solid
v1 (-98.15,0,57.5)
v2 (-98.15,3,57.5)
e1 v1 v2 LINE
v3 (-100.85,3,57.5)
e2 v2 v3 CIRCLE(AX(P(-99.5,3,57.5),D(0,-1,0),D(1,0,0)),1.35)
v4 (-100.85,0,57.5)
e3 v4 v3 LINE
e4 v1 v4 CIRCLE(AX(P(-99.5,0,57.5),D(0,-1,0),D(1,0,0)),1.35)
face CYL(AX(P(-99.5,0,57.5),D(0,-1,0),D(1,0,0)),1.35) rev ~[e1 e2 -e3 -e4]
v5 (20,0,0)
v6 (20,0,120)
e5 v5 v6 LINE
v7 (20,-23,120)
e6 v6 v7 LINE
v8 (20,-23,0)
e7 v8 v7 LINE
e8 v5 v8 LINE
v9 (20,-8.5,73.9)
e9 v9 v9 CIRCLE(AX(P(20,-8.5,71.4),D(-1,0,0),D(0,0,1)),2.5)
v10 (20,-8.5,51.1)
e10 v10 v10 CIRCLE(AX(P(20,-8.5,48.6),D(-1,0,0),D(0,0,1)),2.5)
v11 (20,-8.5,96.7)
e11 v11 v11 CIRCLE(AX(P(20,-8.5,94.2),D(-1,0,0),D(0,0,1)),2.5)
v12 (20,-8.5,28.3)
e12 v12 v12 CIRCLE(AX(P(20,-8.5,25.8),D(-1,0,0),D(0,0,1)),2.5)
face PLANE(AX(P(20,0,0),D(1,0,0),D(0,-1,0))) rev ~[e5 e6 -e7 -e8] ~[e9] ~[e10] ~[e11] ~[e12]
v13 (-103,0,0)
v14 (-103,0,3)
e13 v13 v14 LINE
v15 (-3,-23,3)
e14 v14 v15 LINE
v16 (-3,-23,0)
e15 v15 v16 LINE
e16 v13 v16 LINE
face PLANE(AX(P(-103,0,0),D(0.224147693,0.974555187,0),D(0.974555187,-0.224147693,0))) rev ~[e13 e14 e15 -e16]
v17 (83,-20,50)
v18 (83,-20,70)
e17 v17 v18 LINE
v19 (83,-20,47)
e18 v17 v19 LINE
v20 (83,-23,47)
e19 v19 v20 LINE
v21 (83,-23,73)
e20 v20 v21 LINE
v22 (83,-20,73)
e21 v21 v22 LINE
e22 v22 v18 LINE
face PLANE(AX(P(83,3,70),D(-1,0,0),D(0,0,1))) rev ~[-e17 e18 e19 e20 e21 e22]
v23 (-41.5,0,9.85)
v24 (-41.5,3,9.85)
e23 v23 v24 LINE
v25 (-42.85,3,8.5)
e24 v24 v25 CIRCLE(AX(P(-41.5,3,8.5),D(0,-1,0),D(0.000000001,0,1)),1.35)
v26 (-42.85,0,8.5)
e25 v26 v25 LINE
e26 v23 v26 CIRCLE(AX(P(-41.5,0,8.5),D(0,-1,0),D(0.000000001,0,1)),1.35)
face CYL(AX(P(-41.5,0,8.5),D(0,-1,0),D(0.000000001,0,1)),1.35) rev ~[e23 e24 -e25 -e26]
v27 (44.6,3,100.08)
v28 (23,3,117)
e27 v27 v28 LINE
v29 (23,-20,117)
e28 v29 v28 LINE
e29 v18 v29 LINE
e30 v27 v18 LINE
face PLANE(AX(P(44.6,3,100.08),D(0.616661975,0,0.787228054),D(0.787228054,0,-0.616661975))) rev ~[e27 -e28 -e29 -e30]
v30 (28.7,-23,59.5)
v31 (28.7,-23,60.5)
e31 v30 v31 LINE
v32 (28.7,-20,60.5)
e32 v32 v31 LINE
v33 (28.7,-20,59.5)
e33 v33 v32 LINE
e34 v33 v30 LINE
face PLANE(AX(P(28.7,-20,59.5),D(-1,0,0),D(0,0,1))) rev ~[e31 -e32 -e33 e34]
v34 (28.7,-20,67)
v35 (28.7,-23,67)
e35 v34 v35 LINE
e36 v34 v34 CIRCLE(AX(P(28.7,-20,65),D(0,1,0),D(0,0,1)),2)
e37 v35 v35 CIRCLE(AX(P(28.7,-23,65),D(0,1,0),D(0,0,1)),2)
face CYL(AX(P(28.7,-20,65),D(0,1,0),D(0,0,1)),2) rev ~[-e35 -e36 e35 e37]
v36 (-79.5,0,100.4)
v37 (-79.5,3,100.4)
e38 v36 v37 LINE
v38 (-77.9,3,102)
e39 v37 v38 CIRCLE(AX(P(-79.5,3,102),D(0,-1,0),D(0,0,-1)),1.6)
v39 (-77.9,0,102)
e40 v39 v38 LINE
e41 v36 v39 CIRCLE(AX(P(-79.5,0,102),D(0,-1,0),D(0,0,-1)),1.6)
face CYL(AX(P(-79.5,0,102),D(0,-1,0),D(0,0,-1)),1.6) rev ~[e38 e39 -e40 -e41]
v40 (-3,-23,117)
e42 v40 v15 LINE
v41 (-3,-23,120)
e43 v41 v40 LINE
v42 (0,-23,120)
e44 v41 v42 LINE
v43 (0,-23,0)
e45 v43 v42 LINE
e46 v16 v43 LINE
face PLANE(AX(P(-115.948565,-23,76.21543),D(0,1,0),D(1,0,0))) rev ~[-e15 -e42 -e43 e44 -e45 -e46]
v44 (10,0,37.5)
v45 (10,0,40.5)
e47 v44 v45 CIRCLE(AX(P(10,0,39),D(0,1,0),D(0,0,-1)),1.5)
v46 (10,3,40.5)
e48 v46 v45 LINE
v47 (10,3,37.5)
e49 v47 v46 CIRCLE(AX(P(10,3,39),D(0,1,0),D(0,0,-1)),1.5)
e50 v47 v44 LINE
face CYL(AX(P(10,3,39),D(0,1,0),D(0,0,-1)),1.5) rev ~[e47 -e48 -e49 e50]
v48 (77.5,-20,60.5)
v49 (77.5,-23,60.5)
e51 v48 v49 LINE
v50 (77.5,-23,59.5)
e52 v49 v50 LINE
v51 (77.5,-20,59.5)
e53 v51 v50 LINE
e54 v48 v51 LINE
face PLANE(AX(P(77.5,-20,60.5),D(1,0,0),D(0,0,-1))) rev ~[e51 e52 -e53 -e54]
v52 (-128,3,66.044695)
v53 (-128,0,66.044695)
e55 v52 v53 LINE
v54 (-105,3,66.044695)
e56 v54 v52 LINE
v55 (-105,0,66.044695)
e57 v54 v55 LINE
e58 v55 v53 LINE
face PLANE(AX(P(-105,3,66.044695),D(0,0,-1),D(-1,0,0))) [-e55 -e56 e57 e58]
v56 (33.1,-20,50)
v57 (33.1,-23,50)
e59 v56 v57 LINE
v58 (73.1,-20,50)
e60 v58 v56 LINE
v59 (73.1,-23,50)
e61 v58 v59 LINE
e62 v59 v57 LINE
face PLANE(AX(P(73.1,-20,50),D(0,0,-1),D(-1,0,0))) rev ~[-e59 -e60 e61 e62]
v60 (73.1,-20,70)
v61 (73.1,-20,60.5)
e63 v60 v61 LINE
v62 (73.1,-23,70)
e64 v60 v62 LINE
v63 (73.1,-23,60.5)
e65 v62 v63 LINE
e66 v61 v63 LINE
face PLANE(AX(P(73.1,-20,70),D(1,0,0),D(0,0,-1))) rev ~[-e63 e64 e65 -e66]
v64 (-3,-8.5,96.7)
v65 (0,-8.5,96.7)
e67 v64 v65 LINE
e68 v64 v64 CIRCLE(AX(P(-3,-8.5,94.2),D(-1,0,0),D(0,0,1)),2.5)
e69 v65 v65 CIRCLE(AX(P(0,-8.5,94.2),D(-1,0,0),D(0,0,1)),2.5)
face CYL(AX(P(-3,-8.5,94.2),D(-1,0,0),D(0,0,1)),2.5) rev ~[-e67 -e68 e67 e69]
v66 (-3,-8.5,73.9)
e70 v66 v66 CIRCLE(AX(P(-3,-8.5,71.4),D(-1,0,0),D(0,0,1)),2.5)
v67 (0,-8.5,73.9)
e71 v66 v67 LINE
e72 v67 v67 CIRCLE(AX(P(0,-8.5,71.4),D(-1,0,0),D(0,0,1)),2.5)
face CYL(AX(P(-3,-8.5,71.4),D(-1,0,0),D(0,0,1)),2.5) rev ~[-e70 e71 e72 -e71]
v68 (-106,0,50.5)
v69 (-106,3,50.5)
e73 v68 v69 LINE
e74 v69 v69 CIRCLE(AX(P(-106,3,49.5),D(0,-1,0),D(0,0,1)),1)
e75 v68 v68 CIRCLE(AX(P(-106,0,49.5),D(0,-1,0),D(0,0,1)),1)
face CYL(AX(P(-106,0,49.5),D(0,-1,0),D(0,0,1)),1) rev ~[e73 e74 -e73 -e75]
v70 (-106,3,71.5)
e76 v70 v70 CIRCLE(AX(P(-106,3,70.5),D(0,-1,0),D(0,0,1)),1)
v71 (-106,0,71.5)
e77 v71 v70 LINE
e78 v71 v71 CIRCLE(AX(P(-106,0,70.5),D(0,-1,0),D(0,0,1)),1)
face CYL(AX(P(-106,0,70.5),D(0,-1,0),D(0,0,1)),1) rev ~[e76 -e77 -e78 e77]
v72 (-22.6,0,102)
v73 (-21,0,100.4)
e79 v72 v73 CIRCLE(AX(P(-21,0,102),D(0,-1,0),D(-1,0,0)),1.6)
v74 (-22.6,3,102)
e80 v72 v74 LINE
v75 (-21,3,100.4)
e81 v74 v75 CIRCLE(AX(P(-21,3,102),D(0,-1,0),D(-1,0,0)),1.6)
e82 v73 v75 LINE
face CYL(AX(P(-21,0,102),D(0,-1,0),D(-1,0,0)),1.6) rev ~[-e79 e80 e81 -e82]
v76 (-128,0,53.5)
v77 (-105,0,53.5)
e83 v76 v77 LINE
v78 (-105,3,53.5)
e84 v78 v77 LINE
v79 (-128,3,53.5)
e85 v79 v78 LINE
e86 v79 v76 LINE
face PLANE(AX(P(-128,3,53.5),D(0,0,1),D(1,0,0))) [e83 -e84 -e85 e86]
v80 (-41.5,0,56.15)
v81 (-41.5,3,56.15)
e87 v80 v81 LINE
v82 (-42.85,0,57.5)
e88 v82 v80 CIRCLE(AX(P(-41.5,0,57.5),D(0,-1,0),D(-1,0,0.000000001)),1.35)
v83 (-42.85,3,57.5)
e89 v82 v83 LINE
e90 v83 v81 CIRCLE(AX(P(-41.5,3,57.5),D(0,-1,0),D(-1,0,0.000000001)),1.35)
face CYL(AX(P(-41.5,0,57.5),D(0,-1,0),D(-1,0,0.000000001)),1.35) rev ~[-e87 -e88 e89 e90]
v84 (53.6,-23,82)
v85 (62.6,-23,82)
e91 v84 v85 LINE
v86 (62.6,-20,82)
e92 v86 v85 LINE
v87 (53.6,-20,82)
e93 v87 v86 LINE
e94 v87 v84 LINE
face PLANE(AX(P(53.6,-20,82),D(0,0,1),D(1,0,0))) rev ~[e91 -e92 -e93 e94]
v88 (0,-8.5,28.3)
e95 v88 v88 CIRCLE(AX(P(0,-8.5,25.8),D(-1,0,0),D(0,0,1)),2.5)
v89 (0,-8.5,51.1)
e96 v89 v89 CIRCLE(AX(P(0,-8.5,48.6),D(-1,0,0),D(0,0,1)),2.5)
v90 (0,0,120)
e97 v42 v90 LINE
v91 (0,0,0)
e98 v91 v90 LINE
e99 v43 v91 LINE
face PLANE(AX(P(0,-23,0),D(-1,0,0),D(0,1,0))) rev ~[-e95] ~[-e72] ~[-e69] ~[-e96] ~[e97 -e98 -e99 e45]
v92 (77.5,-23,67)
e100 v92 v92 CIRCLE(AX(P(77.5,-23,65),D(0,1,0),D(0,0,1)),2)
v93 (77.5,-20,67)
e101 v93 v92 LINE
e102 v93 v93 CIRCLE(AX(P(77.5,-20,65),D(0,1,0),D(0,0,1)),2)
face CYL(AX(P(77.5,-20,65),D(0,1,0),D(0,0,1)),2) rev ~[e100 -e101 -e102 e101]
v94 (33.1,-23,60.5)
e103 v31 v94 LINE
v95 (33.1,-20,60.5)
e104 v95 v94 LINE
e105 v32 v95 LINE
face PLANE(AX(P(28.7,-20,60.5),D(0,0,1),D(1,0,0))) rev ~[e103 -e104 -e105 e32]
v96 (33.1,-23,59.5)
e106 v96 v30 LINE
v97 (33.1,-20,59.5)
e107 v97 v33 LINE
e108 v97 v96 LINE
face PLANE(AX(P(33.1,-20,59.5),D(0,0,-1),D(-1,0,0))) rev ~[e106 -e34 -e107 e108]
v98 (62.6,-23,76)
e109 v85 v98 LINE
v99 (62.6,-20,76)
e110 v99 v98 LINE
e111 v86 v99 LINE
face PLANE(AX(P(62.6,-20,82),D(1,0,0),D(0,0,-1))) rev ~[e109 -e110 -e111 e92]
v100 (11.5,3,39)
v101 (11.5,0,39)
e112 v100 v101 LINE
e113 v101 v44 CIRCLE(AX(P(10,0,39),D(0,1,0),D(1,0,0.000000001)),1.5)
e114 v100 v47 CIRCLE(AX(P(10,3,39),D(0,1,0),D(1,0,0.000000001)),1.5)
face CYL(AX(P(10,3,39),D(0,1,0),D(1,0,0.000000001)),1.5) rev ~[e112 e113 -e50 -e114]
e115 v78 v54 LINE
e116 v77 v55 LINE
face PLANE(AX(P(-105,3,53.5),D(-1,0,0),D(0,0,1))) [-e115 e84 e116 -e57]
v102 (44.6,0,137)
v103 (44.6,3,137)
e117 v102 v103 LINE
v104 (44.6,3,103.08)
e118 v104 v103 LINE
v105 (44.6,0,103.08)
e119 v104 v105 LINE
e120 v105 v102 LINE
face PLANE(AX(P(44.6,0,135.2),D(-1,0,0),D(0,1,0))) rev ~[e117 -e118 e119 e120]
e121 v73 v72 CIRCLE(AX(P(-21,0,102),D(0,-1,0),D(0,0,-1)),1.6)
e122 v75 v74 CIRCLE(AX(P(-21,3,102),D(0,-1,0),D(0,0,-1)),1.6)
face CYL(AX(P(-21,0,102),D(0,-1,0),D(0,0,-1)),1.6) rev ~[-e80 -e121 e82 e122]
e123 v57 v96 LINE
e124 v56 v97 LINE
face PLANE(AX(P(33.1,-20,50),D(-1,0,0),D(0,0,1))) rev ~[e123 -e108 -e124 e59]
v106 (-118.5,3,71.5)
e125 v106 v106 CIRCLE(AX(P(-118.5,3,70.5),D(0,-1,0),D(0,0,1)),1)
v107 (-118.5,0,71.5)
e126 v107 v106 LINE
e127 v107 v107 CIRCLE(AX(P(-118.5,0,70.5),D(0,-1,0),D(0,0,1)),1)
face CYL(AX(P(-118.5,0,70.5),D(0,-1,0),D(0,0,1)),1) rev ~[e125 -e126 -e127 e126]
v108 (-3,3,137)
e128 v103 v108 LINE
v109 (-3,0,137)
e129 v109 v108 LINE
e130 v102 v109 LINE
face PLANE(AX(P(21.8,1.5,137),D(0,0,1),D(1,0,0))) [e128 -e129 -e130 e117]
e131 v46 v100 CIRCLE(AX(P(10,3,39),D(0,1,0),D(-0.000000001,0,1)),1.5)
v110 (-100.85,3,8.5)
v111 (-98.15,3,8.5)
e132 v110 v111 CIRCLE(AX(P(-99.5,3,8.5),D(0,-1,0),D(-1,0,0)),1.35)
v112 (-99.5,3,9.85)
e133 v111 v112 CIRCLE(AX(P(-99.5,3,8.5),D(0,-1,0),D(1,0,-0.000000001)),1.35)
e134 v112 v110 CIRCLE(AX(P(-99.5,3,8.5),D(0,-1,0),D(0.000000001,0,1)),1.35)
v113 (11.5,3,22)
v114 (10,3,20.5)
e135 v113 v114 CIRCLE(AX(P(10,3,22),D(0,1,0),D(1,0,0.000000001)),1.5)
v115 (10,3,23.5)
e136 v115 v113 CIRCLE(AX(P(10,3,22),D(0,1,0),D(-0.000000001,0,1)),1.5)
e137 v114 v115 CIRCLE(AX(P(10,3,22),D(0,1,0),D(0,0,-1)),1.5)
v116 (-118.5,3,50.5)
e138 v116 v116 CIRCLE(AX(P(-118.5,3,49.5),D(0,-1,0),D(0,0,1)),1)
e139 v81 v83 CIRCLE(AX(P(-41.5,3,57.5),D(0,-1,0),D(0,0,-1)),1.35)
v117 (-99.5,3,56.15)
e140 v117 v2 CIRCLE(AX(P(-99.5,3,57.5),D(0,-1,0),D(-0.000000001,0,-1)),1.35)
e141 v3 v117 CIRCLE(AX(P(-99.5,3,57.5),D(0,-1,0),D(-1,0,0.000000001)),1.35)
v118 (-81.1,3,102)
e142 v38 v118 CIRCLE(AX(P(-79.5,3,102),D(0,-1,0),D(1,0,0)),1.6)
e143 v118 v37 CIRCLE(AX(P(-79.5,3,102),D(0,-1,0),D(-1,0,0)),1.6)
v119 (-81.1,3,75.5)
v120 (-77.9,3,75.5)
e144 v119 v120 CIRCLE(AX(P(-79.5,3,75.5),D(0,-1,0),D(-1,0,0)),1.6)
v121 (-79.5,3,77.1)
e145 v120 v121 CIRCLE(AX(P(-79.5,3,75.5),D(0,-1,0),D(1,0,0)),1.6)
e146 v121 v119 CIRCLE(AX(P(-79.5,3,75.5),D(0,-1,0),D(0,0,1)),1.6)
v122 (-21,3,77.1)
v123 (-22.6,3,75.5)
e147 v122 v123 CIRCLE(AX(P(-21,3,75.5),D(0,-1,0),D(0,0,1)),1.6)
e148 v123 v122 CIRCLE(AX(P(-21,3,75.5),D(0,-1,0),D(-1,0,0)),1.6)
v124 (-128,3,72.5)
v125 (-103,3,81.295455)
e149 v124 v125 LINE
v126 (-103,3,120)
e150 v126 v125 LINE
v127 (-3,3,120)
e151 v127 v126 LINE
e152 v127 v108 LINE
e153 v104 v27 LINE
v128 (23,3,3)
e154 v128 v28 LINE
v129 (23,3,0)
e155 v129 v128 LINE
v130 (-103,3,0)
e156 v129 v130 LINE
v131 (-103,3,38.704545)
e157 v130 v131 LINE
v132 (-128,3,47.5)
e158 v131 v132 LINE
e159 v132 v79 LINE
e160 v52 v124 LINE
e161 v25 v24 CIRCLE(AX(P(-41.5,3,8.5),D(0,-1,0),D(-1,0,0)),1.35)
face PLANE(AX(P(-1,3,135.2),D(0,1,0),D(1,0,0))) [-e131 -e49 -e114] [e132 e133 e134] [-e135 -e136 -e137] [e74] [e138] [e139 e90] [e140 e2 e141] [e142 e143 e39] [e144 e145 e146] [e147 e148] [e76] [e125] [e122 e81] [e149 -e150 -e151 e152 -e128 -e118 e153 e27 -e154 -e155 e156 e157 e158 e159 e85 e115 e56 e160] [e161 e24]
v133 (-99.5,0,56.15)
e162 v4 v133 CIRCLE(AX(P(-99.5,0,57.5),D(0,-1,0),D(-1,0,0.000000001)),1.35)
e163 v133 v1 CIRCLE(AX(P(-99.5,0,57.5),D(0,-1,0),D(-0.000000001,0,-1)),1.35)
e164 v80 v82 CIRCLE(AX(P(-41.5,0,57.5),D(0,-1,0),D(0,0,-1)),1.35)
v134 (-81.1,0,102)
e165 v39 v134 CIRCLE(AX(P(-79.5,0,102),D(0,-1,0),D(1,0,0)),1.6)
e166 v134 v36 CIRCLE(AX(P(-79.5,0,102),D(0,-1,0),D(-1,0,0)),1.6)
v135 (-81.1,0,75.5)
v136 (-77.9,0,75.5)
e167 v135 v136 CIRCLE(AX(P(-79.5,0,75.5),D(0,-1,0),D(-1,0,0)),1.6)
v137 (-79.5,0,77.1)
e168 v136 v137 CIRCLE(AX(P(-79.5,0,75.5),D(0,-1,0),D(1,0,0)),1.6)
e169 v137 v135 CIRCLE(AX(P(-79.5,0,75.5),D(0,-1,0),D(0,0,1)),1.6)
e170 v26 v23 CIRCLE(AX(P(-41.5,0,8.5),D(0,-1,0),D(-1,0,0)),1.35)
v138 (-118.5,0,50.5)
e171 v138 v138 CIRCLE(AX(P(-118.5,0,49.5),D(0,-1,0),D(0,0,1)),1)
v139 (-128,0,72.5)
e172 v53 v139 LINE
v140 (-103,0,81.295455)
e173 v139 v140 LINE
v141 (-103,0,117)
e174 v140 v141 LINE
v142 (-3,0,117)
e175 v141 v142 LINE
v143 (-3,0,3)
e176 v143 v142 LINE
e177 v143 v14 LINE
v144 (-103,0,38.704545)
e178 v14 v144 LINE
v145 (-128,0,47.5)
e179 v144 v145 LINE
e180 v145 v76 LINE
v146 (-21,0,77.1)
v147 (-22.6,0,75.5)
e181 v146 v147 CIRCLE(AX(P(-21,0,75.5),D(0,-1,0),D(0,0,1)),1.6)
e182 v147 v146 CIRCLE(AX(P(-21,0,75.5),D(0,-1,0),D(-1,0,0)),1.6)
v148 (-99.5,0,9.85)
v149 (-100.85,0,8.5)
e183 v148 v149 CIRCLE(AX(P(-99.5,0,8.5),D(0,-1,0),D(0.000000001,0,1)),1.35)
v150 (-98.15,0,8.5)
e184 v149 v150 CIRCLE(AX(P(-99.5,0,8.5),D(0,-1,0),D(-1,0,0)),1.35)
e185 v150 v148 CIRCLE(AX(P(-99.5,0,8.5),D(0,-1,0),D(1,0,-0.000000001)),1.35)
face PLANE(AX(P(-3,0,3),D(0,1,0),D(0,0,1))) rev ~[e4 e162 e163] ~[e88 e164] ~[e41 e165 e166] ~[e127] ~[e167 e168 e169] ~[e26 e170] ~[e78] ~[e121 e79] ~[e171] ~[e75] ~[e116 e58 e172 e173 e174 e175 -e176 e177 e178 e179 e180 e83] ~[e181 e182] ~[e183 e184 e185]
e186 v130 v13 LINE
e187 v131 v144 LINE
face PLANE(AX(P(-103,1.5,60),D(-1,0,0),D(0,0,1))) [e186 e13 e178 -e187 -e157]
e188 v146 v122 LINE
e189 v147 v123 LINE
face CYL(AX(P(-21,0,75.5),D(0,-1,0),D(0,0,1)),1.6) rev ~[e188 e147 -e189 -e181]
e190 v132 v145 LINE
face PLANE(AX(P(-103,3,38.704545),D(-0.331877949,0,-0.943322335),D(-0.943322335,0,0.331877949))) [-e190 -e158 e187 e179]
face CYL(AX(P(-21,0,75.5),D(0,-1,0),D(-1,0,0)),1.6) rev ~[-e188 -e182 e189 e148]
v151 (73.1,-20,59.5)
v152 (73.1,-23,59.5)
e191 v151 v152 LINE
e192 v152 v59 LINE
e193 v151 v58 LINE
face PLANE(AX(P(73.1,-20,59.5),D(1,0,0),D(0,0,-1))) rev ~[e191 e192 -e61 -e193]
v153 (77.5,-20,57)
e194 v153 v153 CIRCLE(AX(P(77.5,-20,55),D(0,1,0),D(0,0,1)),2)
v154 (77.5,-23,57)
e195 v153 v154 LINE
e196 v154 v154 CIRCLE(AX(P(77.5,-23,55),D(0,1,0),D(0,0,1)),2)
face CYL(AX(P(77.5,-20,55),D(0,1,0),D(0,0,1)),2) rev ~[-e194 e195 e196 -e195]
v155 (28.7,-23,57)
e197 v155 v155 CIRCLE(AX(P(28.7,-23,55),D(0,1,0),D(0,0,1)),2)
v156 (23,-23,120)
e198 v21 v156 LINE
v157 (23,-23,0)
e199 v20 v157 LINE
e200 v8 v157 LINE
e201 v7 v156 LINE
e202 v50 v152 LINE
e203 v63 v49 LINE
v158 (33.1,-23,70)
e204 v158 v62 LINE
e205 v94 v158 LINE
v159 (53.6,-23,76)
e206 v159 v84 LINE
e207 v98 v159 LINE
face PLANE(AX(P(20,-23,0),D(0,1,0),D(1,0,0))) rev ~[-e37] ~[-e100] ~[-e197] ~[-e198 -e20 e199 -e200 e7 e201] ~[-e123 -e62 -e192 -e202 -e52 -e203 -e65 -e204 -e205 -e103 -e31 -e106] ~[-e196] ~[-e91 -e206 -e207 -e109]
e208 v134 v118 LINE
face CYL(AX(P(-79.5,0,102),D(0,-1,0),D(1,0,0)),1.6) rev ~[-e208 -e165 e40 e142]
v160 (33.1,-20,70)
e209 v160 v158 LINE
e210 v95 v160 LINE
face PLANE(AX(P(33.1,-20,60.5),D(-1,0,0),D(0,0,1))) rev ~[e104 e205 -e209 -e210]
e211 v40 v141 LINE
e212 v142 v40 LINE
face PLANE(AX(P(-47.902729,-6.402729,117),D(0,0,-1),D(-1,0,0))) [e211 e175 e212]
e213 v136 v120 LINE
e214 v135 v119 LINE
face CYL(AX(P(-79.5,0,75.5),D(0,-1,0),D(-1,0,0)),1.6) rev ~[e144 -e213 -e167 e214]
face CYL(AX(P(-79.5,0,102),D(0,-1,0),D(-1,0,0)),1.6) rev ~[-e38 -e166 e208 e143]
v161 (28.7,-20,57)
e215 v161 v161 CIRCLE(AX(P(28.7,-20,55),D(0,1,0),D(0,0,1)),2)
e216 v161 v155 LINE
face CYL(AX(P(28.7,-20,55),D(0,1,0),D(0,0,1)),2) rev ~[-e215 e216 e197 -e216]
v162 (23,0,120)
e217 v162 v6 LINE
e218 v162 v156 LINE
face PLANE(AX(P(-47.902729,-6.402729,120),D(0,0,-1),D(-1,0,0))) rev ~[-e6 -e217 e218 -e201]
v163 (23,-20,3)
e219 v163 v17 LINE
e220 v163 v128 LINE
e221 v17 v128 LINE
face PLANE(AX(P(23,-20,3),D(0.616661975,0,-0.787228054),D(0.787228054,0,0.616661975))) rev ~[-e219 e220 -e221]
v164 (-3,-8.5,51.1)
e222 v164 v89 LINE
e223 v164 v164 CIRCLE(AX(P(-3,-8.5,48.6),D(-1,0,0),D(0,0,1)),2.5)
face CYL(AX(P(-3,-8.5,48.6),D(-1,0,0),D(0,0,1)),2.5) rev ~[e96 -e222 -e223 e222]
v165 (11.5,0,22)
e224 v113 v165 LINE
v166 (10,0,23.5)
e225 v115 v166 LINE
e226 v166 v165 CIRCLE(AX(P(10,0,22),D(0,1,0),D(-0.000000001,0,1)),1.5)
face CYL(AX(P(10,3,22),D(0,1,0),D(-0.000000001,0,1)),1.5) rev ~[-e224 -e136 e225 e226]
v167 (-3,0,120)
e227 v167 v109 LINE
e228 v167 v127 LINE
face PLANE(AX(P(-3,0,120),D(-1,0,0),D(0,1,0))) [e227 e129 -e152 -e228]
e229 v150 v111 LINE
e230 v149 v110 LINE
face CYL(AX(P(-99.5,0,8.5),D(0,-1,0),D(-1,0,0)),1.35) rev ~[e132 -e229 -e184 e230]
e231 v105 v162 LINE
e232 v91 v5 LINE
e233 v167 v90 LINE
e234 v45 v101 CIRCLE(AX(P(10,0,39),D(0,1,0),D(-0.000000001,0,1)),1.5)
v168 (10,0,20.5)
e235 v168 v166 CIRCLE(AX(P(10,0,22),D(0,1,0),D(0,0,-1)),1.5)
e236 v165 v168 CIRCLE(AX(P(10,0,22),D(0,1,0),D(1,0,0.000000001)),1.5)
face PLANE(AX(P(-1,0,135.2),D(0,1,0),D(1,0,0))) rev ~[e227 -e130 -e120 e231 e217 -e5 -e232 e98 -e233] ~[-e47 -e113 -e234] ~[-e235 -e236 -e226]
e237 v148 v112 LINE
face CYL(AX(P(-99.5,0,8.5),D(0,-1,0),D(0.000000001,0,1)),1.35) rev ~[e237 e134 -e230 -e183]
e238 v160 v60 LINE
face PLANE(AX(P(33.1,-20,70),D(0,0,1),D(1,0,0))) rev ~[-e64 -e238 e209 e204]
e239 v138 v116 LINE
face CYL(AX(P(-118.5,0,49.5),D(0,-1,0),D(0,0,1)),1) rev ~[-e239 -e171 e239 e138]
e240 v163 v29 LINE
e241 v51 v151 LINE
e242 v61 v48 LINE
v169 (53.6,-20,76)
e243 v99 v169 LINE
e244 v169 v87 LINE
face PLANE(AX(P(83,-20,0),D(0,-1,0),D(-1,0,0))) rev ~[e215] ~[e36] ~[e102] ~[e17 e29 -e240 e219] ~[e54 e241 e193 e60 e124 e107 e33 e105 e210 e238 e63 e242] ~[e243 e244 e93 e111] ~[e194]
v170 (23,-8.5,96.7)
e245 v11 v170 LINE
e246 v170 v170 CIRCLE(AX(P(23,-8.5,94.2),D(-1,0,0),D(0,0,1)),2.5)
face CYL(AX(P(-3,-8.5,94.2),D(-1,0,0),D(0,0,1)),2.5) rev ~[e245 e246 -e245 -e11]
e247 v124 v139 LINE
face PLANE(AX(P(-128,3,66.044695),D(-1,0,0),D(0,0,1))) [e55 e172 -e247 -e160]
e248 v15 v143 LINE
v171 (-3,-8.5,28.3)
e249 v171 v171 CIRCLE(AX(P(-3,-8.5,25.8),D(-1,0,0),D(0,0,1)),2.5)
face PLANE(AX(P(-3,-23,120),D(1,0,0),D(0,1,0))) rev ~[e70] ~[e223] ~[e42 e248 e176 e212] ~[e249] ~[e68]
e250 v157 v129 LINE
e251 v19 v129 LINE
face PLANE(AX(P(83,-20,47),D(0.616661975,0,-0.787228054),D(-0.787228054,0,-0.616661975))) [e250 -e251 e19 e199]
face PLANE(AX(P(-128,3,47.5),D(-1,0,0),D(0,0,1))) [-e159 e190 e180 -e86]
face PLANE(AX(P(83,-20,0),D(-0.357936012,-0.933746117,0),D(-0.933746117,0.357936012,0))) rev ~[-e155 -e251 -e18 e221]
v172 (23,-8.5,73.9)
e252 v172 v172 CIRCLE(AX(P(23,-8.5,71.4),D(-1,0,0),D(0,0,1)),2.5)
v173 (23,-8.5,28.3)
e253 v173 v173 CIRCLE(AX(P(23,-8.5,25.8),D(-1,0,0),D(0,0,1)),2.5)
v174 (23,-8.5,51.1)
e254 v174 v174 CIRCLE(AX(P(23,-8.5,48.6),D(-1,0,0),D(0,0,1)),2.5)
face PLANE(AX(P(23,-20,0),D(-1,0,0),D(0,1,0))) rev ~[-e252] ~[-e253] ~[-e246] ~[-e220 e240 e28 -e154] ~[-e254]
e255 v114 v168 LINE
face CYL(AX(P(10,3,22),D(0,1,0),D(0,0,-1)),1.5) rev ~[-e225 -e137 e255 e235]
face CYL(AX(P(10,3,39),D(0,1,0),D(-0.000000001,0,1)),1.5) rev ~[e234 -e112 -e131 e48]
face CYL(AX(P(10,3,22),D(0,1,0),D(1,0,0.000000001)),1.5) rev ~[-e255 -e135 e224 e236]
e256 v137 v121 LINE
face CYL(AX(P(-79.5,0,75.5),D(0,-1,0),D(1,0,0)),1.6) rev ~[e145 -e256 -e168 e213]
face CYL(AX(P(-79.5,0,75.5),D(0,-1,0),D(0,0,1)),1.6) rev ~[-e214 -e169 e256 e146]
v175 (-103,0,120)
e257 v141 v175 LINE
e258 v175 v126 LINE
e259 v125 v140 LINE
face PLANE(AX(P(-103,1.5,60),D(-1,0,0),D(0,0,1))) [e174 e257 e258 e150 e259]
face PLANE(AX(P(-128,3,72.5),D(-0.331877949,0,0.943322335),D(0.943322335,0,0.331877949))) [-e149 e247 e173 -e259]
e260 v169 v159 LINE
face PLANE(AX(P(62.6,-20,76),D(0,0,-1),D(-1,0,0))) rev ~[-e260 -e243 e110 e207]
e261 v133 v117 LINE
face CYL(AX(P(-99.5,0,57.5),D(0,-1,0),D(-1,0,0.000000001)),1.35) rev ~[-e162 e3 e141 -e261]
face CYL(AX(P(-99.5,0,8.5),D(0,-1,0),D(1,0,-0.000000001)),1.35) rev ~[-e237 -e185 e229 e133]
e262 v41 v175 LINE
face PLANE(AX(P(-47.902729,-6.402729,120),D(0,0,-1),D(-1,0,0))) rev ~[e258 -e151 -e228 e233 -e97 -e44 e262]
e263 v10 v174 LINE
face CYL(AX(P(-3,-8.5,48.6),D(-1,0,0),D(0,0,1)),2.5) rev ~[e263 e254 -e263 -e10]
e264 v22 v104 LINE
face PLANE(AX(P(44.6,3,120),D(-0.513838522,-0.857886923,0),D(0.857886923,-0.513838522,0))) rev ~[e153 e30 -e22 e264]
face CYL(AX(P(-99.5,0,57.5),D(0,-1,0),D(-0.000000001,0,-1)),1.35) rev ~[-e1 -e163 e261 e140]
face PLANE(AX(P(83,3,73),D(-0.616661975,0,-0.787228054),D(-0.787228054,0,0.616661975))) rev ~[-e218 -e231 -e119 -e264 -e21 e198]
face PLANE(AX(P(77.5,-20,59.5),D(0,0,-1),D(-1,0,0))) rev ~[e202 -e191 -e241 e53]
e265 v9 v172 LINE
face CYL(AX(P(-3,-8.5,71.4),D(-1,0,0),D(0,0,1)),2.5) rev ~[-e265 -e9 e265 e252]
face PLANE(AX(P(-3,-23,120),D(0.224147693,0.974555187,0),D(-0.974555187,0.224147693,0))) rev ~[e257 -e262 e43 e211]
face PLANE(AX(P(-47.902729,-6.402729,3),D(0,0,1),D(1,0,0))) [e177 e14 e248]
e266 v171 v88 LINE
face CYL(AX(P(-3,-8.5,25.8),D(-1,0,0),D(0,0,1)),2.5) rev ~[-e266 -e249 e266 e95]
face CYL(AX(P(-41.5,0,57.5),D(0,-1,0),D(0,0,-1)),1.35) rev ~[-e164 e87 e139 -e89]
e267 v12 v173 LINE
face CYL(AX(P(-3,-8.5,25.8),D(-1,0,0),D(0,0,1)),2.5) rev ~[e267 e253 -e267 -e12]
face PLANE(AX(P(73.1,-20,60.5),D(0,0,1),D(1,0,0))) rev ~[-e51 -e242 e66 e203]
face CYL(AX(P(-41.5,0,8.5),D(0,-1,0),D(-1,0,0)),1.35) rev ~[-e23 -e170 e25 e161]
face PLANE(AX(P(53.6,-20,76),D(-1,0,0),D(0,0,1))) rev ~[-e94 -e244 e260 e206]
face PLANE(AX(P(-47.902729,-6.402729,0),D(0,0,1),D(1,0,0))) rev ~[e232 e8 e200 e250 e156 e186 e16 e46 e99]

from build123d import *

# Parameters (mm, degrees)
BOSS_EXTRUDE1_DEPTH     = 120
SKETCH2_W               = 13
SKETCH2_H               = 10.628318584
BOSS_EXTRUDE2_DEPTH     = 3
BOSS_EXTRUDE3_DEPTH     = 3
SKETCH5_R               = 1.35
CUT_EXTRUDE1_DEPTH      = 10
SKETCH6_R               = 1
BOSS_EXTRUDE4_DEPTH     = 3
SKETCH7_W               = 2
SKETCH7_H               = 12.544695334
BOSS_EXTRUDE5_DEPTH     = 3
SKETCH8_R               = 1.6
CUT_EXTRUDE2_DEPTH      = 22
SKETCH9_R               = 2.5
CUT_EXTRUDE3_DEPTH      = 100
SKETCH10_R              = 2
CUT_EXTRUDE5_DEPTH      = 100
BOSS_EXTRUDE8_DEPTH     = 3
BOSS_EXTRUDE9_DEPTH     = 3
BOSS_EXTRUDE10_DEPTH    = 34
CUT_EXTRUDE6_DEPTH      = 145
CUT_EXTRUDE8_DEPTH      = 145
CUT_EXTRUDE8_DEPTH_BACK = 145
BOSS_EXTRUDE11_DEPTH    = 3
BOSS_EXTRUDE12_DEPTH    = 3
SKETCH21_W              = 4.5
SKETCH21_H              = 3
CUT_EXTRUDE9_DEPTH      = 10
CUT_EXTRUDE10_DEPTH     = 10
SKETCH26_W              = 114
SKETCH26_H              = 3
BOSS_EXTRUDE13_DEPTH    = 100
BOSS_EXTRUDE14_DEPTH    = 3
CUT_EXTRUDE11_DEPTH     = 3
SKETCH30_R              = 1
CUT_EXTRUDE12_DEPTH     = 3
CUT_EXTRUDE13_DEPTH     = 120
BOSS_EXTRUDE15_DEPTH    = 3
BOSS_EXTRUDE16_DEPTH    = 3
BOSS_EXTRUDE17_DEPTH    = 3
BOSS_EXTRUDE18_DEPTH    = 3
CUT_EXTRUDE14_DEPTH     = 120
BOSS_EXTRUDE19_DEPTH    = 10
BOSS_EXTRUDE20_DEPTH    = 23
CUT_EXTRUDE15_DEPTH     = 69
BOSS_EXTRUDE21_DEPTH    = 3
SKETCH43_W              = 2
SKETCH43_H              = 3
BOSS_EXTRUDE22_DEPTH    = 17
SKETCH44_W              = 45.6
SKETCH44_H              = 3
BOSS_EXTRUDE23_DEPTH    = 1.8


with BuildPart() as part:
    # Sketch1 → Boss-Extrude1 (new body)
    with BuildSketch(Plane.XY):
        Polygon((0, 0), (20, 0), (20, -23), (83, -23), (83, -20), (23, -20), (23, 3), (-3, 3), (-3, -20), (-103, -20), (-103, -23), (0, -23), align=None)
    extrude(amount=BOSS_EXTRUDE1_DEPTH)

    # Sketch2 → Boss-Extrude2 (add)
    with BuildSketch(Plane(origin=(0, 0, 0), x_dir=(-1, 0, 0), z_dir=(0, 0, -1))):
        with Locations((-3.5, 8.314159292)):
            Rectangle(SKETCH2_W, SKETCH2_H)
        Polygon((-23, 3), (-10, 3), (-10, 13.628318584), (-18.398230088, 13.628318584), (-83, -20), (-23, -20), align=None)
        Polygon((3, 13.628318584), (3, 3), (3, -20), (103, -20), align=None)
    extrude(amount=-BOSS_EXTRUDE2_DEPTH)

    # Sketch4 → Boss-Extrude3 (add)
    with BuildSketch(Plane.XY.offset(120)):
        Polygon((83, -20), (23, -20), (23, 3), (-3, 3), (-3, -20), (-103, -20), (-3, 13.628318584), (18.398230088, 13.628318584), align=None)
    extrude(amount=-BOSS_EXTRUDE3_DEPTH)

    # Sketch5 → Cut-Extrude1 (cut)
    with BuildSketch(Plane(origin=(0, -20, 0), x_dir=(1, 0, 0), z_dir=(0, 1, 0))):
        with Locations(Location((-99.5, -57.5, 0), (0, 0, 270))):
            Circle(SKETCH5_R)
        with Locations(Location((-99.5, -8.5, 0), (0, 0, 270))):
            Circle(SKETCH5_R)
        with Locations(Location((-41.5, -8.5, 0), (0, 0, 270))):
            Circle(SKETCH5_R)
        with Locations(Location((-41.5, -57.5, 0), (0, 0, 270))):
            Circle(SKETCH5_R)
    extrude(amount=-CUT_EXTRUDE1_DEPTH, mode=Mode.SUBTRACT)

    # Sketch6 → Boss-Extrude4 (add)
    with BuildSketch(Plane(origin=(0, -20, 0), x_dir=(1, 0, 0), z_dir=(0, 1, 0))):
        Polygon((-103, -53.5), (-103, -38.704545455), (-128, -49.5), (-128, -53.5), align=None)
        with Locations(Location((-118.5, -49.5, 0), (0, 0, 270))):
            Circle(SKETCH6_R, mode=Mode.SUBTRACT)
        with Locations(Location((-106, -49.5, 0), (0, 0, 270))):
            Circle(SKETCH6_R, mode=Mode.SUBTRACT)
        Polygon((-103, -66.044695334), (-128, -66.044695334), (-128, -70.5), (-103, -81.295454545), align=None)
        with Locations(Location((-118.5, -70.5, 0), (0, 0, 270))):
            Circle(SKETCH6_R, mode=Mode.SUBTRACT)
        with Locations(Location((-106, -70.5, 0), (0, 0, 270))):
            Circle(SKETCH6_R, mode=Mode.SUBTRACT)
    extrude(amount=-BOSS_EXTRUDE4_DEPTH)

    # Sketch7 → Boss-Extrude5 (add)
    with BuildSketch(Plane(origin=(0, -23, 0), x_dir=(-1, 0, 0), z_dir=(0, -1, 0))):
        with Locations((104, -59.772347667)):
            Rectangle(SKETCH7_W, SKETCH7_H)
    extrude(amount=-BOSS_EXTRUDE5_DEPTH)

    # Sketch8 → Cut-Extrude2 (cut)
    with BuildSketch(Plane(origin=(0, -20, 0), x_dir=(1, 0, 0), z_dir=(0, 1, 0))):
        with BuildLine():
            ThreePointArc((-22.6, -75.5), (-22.13137085, -76.63137085), (-21, -77.1))
            Line((-21, -77.1), (-21, -75.5))
            Line((-21, -75.5), (-22.6, -75.5))
        make_face()
        with BuildLine():
            Line((-21, -75.5), (-21, -77.1))
            ThreePointArc((-21, -77.1), (-19.86862915, -76.63137085), (-19.4, -75.5))
            ThreePointArc((-19.4, -75.5), (-21, -73.9), (-22.6, -75.5))
            Line((-22.6, -75.5), (-21, -75.5))
        make_face()
        with BuildLine():
            ThreePointArc((-21, -100.4), (-22.6, -102), (-21, -103.6))
            Line((-21, -103.6), (-21, -102))
            Line((-21, -102), (-21, -100.4))
        make_face()
        with BuildLine():
            Line((-21, -102), (-21, -103.6))
            ThreePointArc((-21, -103.6), (-19.86862915, -103.13137085), (-19.4, -102))
            ThreePointArc((-19.4, -102), (-19.86862915, -100.86862915), (-21, -100.4))
            Line((-21, -100.4), (-21, -102))
        make_face()
        with BuildLine():
            ThreePointArc((-79.5, -77.1), (-78.36862915, -76.63137085), (-77.9, -75.5))
            Line((-77.9, -75.5), (-79.5, -75.5))
            Line((-79.5, -75.5), (-79.5, -77.1))
        make_face()
        with BuildLine():
            Line((-79.5, -75.5), (-77.9, -75.5))
            ThreePointArc((-77.9, -75.5), (-80.63137085, -74.36862915), (-79.5, -77.1))
            Line((-79.5, -77.1), (-79.5, -75.5))
        make_face()
        with Locations(Location((-79.5, -102, 0), (0, 0, 270))):
            Circle(SKETCH8_R)
    extrude(amount=-CUT_EXTRUDE2_DEPTH, mode=Mode.SUBTRACT)

    # Sketch9 → Cut-Extrude3 (cut)
    with BuildSketch(Plane.ZY.offset(3)):
        with Locations((25.8, -8.5)):
            Circle(SKETCH9_R)
        with Locations((48.6, -8.5)):
            Circle(SKETCH9_R)
        with Locations((71.4, -8.5)):
            Circle(SKETCH9_R)
        with Locations((94.2, -8.5)):
            Circle(SKETCH9_R)
    extrude(amount=-CUT_EXTRUDE3_DEPTH, mode=Mode.SUBTRACT)

    # Sketch10 → Cut-Extrude5 (cut)
    with BuildSketch(Plane(origin=(0, -20, 0), x_dir=(1, 0, 0), z_dir=(0, 1, 0))):
        with Locations(Location((28.7, -65, 0), (0, 0, 270))):
            Circle(SKETCH10_R)
        Polygon((33.1, -50), (33.1, -59.5), (28.7, -59.5), (28.7, -60.5), (33.1, -60.5), (33.1, -70), (73.1, -70), (73.1, -60.5), (77.5, -60.5), (77.5, -59.5), (73.1, -59.5), (73.1, -50), align=None)
        with Locations(Location((28.7, -55, 0), (0, 0, 270))):
            Circle(SKETCH10_R)
        with Locations(Location((77.5, -65, 0), (0, 0, 270))):
            Circle(SKETCH10_R)
        with Locations(Location((77.5, -55, 0), (0, 0, 270))):
            Circle(SKETCH10_R)
    extrude(amount=-CUT_EXTRUDE5_DEPTH, mode=Mode.SUBTRACT)

    # Sketch14 → Boss-Extrude8 (add)
    with BuildSketch(Plane.XY.offset(3)):
        Polygon((23, 13.628318584), (23, 11.232876712), (83, -20), align=None)
        Polygon((18.398230088, 13.628318584), (23, 11.232876712), (23, 13.628318584), align=None)
    extrude(amount=-BOSS_EXTRUDE8_DEPTH)

    # Sketch15 → Boss-Extrude9 (add)
    with BuildSketch(Plane(origin=(0, 0, 117), x_dir=(-1, 0, 0), z_dir=(0, 0, -1))):
        Polygon((-83, -20), (-23, 11.232876712), (-23, 13.628318584), align=None)
        Polygon((-23, 13.628318584), (-23, 11.232876712), (-18.398230088, 13.628318584), align=None)
    extrude(amount=-BOSS_EXTRUDE9_DEPTH)

    # Sketch16 → Boss-Extrude10 (add)
    with BuildSketch(Plane(origin=(0, -20, 0), x_dir=(1, 0, 0), z_dir=(0, 1, 0))):
        Polygon((23, -117), (83, -70), (83, -73), (23, -120), align=None)
        Polygon((23, 0), (23, -3), (83, -50), (83, -47), align=None)
    extrude(amount=BOSS_EXTRUDE10_DEPTH)

    # Sketch17 → Cut-Extrude6 (cut)
    with BuildSketch(Plane.XY.offset(120)):
        Polygon((23, 13.628318584), (23, 14), (83, 14), (83, -20), align=None)
    extrude(amount=-CUT_EXTRUDE6_DEPTH, mode=Mode.SUBTRACT)

    # Sketch18 → Cut-Extrude8 (cut, two sides)
    with BuildSketch(Plane(origin=(0, -20, 0), x_dir=(1, 0, 0), z_dir=(0, 1, 0))) as cut_extrude8_sk:
        Polygon((83, -73), (23, -120), (83, -120), align=None)
        Polygon((83, -47), (23, 0), (83, 0), align=None)
    extrude(amount=CUT_EXTRUDE8_DEPTH, mode=Mode.SUBTRACT)
    extrude(cut_extrude8_sk.sketch, amount=-CUT_EXTRUDE8_DEPTH_BACK, mode=Mode.SUBTRACT)

    # Sketch19 → Boss-Extrude11 (add)
    with BuildSketch(Plane(origin=(0, -23, 0), x_dir=(-1, 0, 0), z_dir=(0, -1, 0))):
        Polygon((128, -49.5), (128, -47.5), (103, -38.704545455), align=None)
    extrude(amount=-BOSS_EXTRUDE11_DEPTH)

    # Sketch20 → Boss-Extrude12 (add)
    with BuildSketch(Plane(origin=(0, -23, 0), x_dir=(-1, 0, 0), z_dir=(0, -1, 0))):
        Polygon((128, -70.5), (128, -72.5), (103, -81.295454545), align=None)
    extrude(amount=-BOSS_EXTRUDE12_DEPTH)

    # Sketch21 → Cut-Extrude9 (cut)
    with BuildSketch(Plane(origin=(0, -20, 0), x_dir=(1, 0, 0), z_dir=(0, 1, 0))):
        with Locations((60.35, -77.5)):
            Rectangle(SKETCH21_W, SKETCH21_H)
        Polygon((58.1, -79), (58.1, -76), (53.6, -76), (53.6, -82), (62.6, -82), (62.6, -79), align=None)
    extrude(amount=-CUT_EXTRUDE9_DEPTH, mode=Mode.SUBTRACT)

    # Sketch24 → Cut-Extrude10 (cut)
    with BuildSketch(Plane(origin=(0, 3, 0), x_dir=(1, 0, 0), z_dir=(0, 1, 0))):
        with BuildLine():
            ThreePointArc((11.5, -22), (11.060660172, -20.939339828), (10, -20.5))
            Line((10, -20.5), (10, -22))
            Line((10, -22), (10, -23.5))
            ThreePointArc((10, -23.5), (11.060660172, -23.060660172), (11.5, -22))
        make_face()
        with BuildLine():
            Line((10, -22), (10, -20.5))
            ThreePointArc((10, -20.5), (8.5, -22), (10, -23.5))
            Line((10, -23.5), (10, -22))
        make_face()
        with BuildLine():
            ThreePointArc((11.5, -39), (11.060660172, -37.939339828), (10, -37.5))
            Line((10, -37.5), (10, -39))
            Line((10, -39), (10, -40.5))
            ThreePointArc((10, -40.5), (11.060660172, -40.060660172), (11.5, -39))
        make_face()
        with BuildLine():
            Line((10, -39), (10, -37.5))
            ThreePointArc((10, -37.5), (8.5, -39), (10, -40.5))
            Line((10, -40.5), (10, -39))
        make_face()
    extrude(amount=-CUT_EXTRUDE10_DEPTH, mode=Mode.SUBTRACT)

    # Sketch26 → Boss-Extrude13 (add)
    with BuildSketch(Plane.ZY.offset(3)):
        with Locations((60, 1.5)):
            Rectangle(SKETCH26_W, SKETCH26_H)
    extrude(amount=BOSS_EXTRUDE13_DEPTH)

    # Sketch27 → Boss-Extrude14 (add)
    with BuildSketch(Plane(origin=(0, 3, 0), x_dir=(1, 0, 0), z_dir=(0, 1, 0))):
        Polygon((-103, -38.704545455), (-128, -47.5), (-128, -53.5), (-105, -53.5), (-105, -66.044695334), (-128, -66.044695334), (-128, -72.5), (-103, -81.295454545), align=None)
    extrude(amount=-BOSS_EXTRUDE14_DEPTH)

    # Sketch29 → Cut-Extrude11 (cut)
    with BuildSketch(Plane(origin=(0, 0, 0), x_dir=(-1, 0, 0), z_dir=(0, -1, 0))):
        with BuildLine():
            ThreePointArc((100.85, -8.5), (99.5, -7.15), (98.15, -8.5))
            Line((98.15, -8.5), (99.5, -8.5))
            Line((99.5, -8.5), (99.5, -9.85))
            ThreePointArc((99.5, -9.85), (100.454594155, -9.454594155), (100.85, -8.5))
        make_face()
        with BuildLine():
            Line((99.5, -8.5), (98.15, -8.5))
            ThreePointArc((98.15, -8.5), (98.545405845, -9.454594155), (99.5, -9.85))
            Line((99.5, -9.85), (99.5, -8.5))
        make_face()
        with BuildLine():
            ThreePointArc((100.85, -57.5), (100.454594155, -56.545405845), (99.5, -56.15))
            Line((99.5, -56.15), (99.5, -57.5))
            Line((99.5, -57.5), (98.15, -57.5))
            ThreePointArc((98.15, -57.5), (99.5, -58.85), (100.85, -57.5))
        make_face()
        with BuildLine():
            Line((99.5, -57.5), (99.5, -56.15))
            ThreePointArc((99.5, -56.15), (98.545405845, -56.545405845), (98.15, -57.5))
            Line((98.15, -57.5), (99.5, -57.5))
        make_face()
        with BuildLine():
            ThreePointArc((42.85, -57.5), (42.454594155, -56.545405845), (41.5, -56.15))
            Line((41.5, -56.15), (41.5, -57.5))
            Line((41.5, -57.5), (42.85, -57.5))
        make_face()
        with BuildLine():
            Line((41.5, -57.5), (41.5, -56.15))
            ThreePointArc((41.5, -56.15), (40.545405845, -58.454594155), (42.85, -57.5))
            Line((42.85, -57.5), (41.5, -57.5))
        make_face()
        with BuildLine():
            ThreePointArc((41.5, -9.85), (42.454594155, -9.454594155), (42.85, -8.5))
            Line((42.85, -8.5), (41.5, -8.5))
            Line((41.5, -8.5), (41.5, -9.85))
        make_face()
        with BuildLine():
            Line((41.5, -8.5), (42.85, -8.5))
            ThreePointArc((42.85, -8.5), (40.545405845, -7.545405845), (41.5, -9.85))
            Line((41.5, -9.85), (41.5, -8.5))
        make_face()
        with BuildLine():
            ThreePointArc((81.1, -102), (80.63137085, -100.86862915), (79.5, -100.4))
            Line((79.5, -100.4), (79.5, -102))
            Line((79.5, -102), (77.9, -102))
            ThreePointArc((77.9, -102), (79.5, -103.6), (81.1, -102))
        make_face()
        with BuildLine():
            Line((79.5, -102), (79.5, -100.4))
            ThreePointArc((79.5, -100.4), (78.36862915, -100.86862915), (77.9, -102))
            Line((77.9, -102), (79.5, -102))
        make_face()
        with BuildLine():
            Line((77.9, -75.5), (79.5, -75.5))
            Line((79.5, -75.5), (79.5, -77.1))
            ThreePointArc((79.5, -77.1), (80.63137085, -76.63137085), (81.1, -75.5))
            ThreePointArc((81.1, -75.5), (79.5, -73.9), (77.9, -75.5))
        make_face()
        with BuildLine():
            Line((79.5, -77.1), (79.5, -75.5))
            Line((79.5, -75.5), (77.9, -75.5))
            ThreePointArc((77.9, -75.5), (78.36862915, -76.63137085), (79.5, -77.1))
        make_face()
        with BuildLine():
            ThreePointArc((21, -100.4), (19.86862915, -103.13137085), (22.6, -102))
            Line((22.6, -102), (21, -102))
            Line((21, -102), (21, -100.4))
        make_face()
        with BuildLine():
            Line((21, -102), (22.6, -102))
            ThreePointArc((22.6, -102), (22.13137085, -100.86862915), (21, -100.4))
            Line((21, -100.4), (21, -102))
        make_face()
        with BuildLine():
            ThreePointArc((21, -77.1), (22.13137085, -76.63137085), (22.6, -75.5))
            Line((22.6, -75.5), (21, -75.5))
            Line((21, -75.5), (21, -77.1))
        make_face()
        with BuildLine():
            Line((21, -75.5), (22.6, -75.5))
            ThreePointArc((22.6, -75.5), (19.86862915, -74.36862915), (21, -77.1))
            Line((21, -77.1), (21, -75.5))
        make_face()
    extrude(amount=-CUT_EXTRUDE11_DEPTH, mode=Mode.SUBTRACT)

    # Sketch30 → Cut-Extrude12 (cut)
    with BuildSketch(Plane(origin=(0, 0, 0), x_dir=(-1, 0, 0), z_dir=(0, -1, 0))):
        with Locations(Location((118.5, -70.5, 0), (0, 0, 270))):
            Circle(SKETCH30_R)
        with Locations(Location((106, -70.5, 0), (0, 0, 270))):
            Circle(SKETCH30_R)
        with Locations(Location((106, -49.5, 0), (0, 0, 270))):
            Circle(SKETCH30_R)
        with Locations(Location((118.5, -49.5, 0), (0, 0, 270))):
            Circle(SKETCH30_R)
    extrude(amount=-CUT_EXTRUDE12_DEPTH, mode=Mode.SUBTRACT)

    # Sketch31 → Cut-Extrude13 (cut)
    with BuildSketch(Plane.XY.offset(120)):
        Polygon((-3, 0), (-43.526315789, 0), (-103, -20), (-103, -23), (-3, -23), align=None)
        Polygon((-103, -20), (-43.526315789, 0), (-128, -20), (-128, -23), (-103, -23), align=None)
    extrude(amount=-CUT_EXTRUDE13_DEPTH, mode=Mode.SUBTRACT)

    # Sketch32 → Boss-Extrude15 (add)
    with BuildSketch(Plane.XY.offset(117)):
        Polygon((-3, 0), (-103, 0), (-103, 3), (-3, 13.628318584), align=None)
    extrude(amount=BOSS_EXTRUDE15_DEPTH)

    # Sketch33 → Boss-Extrude16 (add)
    with BuildSketch(Plane(origin=(0, 0, 3), x_dir=(-1, 0, 0), z_dir=(0, 0, -1))):
        Polygon((3, 0), (3, 13.628318584), (103, 3), (103, 0), align=None)
    extrude(amount=BOSS_EXTRUDE16_DEPTH)

    # Sketch34 → Boss-Extrude17 (add)
    with BuildSketch(Plane(origin=(0, 0, 0), x_dir=(-1, 0, 0), z_dir=(0, 0, -1))):
        Polygon((103, 0), (3, -23), (3, 0), align=None)
    extrude(amount=-BOSS_EXTRUDE17_DEPTH)

    # Sketch35 → Boss-Extrude18 (add)
    with BuildSketch(Plane.XY.offset(120)):
        Polygon((-3, -23), (-103, 0), (-3, 0), align=None)
    extrude(amount=-BOSS_EXTRUDE18_DEPTH)

    # Sketch36 → Cut-Extrude14 (cut)
    with BuildSketch(Plane(origin=(0, 0, 0), x_dir=(-1, 0, 0), z_dir=(0, 0, -1))):
        Polygon((-23, 3), (103, 3), (3, 13.628318584), (-23, 13.628318584), align=None)
        Polygon((-41.963157895, 3), (-23, 3), (-23, 13.628318584), align=None)
        Polygon((-83, -20), (-23, 3), (-41.963157895, 3), align=None)
    extrude(amount=-CUT_EXTRUDE14_DEPTH, mode=Mode.SUBTRACT)

    # Sketch37 → Boss-Extrude19 (add)
    with BuildSketch(Plane(origin=(0, 3, 0), x_dir=(1, 0, 0), z_dir=(0, 1, 0))):
        Polygon((23, -120), (44.6, -103.08), (44.6, -100.08), (23, -117), align=None)
    extrude(amount=-BOSS_EXTRUDE19_DEPTH)

    # Sketch38 → Boss-Extrude20 (add)
    with BuildSketch(Plane(origin=(0, 3, 0), x_dir=(1, 0, 0), z_dir=(0, 1, 0))):
        Polygon((83, -73), (44.6, -103.08), (44.6, -100.08), (83, -70), align=None)
    extrude(amount=-BOSS_EXTRUDE20_DEPTH)

    # Sketch41 → Cut-Extrude15 (cut)
    with BuildSketch(Plane.XY.offset(120)):
        Polygon((84.974777816, -20), (84.974777816, 3), (44.6, 3), (83, -20), align=None)
    extrude(amount=-CUT_EXTRUDE15_DEPTH, mode=Mode.SUBTRACT)

    # Sketch42 → Boss-Extrude21 (add)
    with BuildSketch(Plane(origin=(0, 3, 0), x_dir=(1, 0, 0), z_dir=(0, 1, 0))):
        Polygon((44.6, -120), (23, -120), (-1, -120), (-1, -135.2), (44.6, -135.2), align=None)
        Polygon((23, -120), (44.6, -120), (44.6, -103.08), align=None)
    extrude(amount=-BOSS_EXTRUDE21_DEPTH)

    # Sketch43 → Boss-Extrude22 (add)
    with BuildSketch(Plane.XY.offset(120)):
        with Locations((-2, 1.5)):
            Rectangle(SKETCH43_W, SKETCH43_H)
    extrude(amount=BOSS_EXTRUDE22_DEPTH)

    # Sketch44 → Boss-Extrude23 (add)
    with BuildSketch(Plane.XY.offset(135.2)):
        with Locations((21.8, 1.5)):
            Rectangle(SKETCH44_W, SKETCH44_H)
    extrude(amount=BOSS_EXTRUDE23_DEPTH)


solid = part.part
